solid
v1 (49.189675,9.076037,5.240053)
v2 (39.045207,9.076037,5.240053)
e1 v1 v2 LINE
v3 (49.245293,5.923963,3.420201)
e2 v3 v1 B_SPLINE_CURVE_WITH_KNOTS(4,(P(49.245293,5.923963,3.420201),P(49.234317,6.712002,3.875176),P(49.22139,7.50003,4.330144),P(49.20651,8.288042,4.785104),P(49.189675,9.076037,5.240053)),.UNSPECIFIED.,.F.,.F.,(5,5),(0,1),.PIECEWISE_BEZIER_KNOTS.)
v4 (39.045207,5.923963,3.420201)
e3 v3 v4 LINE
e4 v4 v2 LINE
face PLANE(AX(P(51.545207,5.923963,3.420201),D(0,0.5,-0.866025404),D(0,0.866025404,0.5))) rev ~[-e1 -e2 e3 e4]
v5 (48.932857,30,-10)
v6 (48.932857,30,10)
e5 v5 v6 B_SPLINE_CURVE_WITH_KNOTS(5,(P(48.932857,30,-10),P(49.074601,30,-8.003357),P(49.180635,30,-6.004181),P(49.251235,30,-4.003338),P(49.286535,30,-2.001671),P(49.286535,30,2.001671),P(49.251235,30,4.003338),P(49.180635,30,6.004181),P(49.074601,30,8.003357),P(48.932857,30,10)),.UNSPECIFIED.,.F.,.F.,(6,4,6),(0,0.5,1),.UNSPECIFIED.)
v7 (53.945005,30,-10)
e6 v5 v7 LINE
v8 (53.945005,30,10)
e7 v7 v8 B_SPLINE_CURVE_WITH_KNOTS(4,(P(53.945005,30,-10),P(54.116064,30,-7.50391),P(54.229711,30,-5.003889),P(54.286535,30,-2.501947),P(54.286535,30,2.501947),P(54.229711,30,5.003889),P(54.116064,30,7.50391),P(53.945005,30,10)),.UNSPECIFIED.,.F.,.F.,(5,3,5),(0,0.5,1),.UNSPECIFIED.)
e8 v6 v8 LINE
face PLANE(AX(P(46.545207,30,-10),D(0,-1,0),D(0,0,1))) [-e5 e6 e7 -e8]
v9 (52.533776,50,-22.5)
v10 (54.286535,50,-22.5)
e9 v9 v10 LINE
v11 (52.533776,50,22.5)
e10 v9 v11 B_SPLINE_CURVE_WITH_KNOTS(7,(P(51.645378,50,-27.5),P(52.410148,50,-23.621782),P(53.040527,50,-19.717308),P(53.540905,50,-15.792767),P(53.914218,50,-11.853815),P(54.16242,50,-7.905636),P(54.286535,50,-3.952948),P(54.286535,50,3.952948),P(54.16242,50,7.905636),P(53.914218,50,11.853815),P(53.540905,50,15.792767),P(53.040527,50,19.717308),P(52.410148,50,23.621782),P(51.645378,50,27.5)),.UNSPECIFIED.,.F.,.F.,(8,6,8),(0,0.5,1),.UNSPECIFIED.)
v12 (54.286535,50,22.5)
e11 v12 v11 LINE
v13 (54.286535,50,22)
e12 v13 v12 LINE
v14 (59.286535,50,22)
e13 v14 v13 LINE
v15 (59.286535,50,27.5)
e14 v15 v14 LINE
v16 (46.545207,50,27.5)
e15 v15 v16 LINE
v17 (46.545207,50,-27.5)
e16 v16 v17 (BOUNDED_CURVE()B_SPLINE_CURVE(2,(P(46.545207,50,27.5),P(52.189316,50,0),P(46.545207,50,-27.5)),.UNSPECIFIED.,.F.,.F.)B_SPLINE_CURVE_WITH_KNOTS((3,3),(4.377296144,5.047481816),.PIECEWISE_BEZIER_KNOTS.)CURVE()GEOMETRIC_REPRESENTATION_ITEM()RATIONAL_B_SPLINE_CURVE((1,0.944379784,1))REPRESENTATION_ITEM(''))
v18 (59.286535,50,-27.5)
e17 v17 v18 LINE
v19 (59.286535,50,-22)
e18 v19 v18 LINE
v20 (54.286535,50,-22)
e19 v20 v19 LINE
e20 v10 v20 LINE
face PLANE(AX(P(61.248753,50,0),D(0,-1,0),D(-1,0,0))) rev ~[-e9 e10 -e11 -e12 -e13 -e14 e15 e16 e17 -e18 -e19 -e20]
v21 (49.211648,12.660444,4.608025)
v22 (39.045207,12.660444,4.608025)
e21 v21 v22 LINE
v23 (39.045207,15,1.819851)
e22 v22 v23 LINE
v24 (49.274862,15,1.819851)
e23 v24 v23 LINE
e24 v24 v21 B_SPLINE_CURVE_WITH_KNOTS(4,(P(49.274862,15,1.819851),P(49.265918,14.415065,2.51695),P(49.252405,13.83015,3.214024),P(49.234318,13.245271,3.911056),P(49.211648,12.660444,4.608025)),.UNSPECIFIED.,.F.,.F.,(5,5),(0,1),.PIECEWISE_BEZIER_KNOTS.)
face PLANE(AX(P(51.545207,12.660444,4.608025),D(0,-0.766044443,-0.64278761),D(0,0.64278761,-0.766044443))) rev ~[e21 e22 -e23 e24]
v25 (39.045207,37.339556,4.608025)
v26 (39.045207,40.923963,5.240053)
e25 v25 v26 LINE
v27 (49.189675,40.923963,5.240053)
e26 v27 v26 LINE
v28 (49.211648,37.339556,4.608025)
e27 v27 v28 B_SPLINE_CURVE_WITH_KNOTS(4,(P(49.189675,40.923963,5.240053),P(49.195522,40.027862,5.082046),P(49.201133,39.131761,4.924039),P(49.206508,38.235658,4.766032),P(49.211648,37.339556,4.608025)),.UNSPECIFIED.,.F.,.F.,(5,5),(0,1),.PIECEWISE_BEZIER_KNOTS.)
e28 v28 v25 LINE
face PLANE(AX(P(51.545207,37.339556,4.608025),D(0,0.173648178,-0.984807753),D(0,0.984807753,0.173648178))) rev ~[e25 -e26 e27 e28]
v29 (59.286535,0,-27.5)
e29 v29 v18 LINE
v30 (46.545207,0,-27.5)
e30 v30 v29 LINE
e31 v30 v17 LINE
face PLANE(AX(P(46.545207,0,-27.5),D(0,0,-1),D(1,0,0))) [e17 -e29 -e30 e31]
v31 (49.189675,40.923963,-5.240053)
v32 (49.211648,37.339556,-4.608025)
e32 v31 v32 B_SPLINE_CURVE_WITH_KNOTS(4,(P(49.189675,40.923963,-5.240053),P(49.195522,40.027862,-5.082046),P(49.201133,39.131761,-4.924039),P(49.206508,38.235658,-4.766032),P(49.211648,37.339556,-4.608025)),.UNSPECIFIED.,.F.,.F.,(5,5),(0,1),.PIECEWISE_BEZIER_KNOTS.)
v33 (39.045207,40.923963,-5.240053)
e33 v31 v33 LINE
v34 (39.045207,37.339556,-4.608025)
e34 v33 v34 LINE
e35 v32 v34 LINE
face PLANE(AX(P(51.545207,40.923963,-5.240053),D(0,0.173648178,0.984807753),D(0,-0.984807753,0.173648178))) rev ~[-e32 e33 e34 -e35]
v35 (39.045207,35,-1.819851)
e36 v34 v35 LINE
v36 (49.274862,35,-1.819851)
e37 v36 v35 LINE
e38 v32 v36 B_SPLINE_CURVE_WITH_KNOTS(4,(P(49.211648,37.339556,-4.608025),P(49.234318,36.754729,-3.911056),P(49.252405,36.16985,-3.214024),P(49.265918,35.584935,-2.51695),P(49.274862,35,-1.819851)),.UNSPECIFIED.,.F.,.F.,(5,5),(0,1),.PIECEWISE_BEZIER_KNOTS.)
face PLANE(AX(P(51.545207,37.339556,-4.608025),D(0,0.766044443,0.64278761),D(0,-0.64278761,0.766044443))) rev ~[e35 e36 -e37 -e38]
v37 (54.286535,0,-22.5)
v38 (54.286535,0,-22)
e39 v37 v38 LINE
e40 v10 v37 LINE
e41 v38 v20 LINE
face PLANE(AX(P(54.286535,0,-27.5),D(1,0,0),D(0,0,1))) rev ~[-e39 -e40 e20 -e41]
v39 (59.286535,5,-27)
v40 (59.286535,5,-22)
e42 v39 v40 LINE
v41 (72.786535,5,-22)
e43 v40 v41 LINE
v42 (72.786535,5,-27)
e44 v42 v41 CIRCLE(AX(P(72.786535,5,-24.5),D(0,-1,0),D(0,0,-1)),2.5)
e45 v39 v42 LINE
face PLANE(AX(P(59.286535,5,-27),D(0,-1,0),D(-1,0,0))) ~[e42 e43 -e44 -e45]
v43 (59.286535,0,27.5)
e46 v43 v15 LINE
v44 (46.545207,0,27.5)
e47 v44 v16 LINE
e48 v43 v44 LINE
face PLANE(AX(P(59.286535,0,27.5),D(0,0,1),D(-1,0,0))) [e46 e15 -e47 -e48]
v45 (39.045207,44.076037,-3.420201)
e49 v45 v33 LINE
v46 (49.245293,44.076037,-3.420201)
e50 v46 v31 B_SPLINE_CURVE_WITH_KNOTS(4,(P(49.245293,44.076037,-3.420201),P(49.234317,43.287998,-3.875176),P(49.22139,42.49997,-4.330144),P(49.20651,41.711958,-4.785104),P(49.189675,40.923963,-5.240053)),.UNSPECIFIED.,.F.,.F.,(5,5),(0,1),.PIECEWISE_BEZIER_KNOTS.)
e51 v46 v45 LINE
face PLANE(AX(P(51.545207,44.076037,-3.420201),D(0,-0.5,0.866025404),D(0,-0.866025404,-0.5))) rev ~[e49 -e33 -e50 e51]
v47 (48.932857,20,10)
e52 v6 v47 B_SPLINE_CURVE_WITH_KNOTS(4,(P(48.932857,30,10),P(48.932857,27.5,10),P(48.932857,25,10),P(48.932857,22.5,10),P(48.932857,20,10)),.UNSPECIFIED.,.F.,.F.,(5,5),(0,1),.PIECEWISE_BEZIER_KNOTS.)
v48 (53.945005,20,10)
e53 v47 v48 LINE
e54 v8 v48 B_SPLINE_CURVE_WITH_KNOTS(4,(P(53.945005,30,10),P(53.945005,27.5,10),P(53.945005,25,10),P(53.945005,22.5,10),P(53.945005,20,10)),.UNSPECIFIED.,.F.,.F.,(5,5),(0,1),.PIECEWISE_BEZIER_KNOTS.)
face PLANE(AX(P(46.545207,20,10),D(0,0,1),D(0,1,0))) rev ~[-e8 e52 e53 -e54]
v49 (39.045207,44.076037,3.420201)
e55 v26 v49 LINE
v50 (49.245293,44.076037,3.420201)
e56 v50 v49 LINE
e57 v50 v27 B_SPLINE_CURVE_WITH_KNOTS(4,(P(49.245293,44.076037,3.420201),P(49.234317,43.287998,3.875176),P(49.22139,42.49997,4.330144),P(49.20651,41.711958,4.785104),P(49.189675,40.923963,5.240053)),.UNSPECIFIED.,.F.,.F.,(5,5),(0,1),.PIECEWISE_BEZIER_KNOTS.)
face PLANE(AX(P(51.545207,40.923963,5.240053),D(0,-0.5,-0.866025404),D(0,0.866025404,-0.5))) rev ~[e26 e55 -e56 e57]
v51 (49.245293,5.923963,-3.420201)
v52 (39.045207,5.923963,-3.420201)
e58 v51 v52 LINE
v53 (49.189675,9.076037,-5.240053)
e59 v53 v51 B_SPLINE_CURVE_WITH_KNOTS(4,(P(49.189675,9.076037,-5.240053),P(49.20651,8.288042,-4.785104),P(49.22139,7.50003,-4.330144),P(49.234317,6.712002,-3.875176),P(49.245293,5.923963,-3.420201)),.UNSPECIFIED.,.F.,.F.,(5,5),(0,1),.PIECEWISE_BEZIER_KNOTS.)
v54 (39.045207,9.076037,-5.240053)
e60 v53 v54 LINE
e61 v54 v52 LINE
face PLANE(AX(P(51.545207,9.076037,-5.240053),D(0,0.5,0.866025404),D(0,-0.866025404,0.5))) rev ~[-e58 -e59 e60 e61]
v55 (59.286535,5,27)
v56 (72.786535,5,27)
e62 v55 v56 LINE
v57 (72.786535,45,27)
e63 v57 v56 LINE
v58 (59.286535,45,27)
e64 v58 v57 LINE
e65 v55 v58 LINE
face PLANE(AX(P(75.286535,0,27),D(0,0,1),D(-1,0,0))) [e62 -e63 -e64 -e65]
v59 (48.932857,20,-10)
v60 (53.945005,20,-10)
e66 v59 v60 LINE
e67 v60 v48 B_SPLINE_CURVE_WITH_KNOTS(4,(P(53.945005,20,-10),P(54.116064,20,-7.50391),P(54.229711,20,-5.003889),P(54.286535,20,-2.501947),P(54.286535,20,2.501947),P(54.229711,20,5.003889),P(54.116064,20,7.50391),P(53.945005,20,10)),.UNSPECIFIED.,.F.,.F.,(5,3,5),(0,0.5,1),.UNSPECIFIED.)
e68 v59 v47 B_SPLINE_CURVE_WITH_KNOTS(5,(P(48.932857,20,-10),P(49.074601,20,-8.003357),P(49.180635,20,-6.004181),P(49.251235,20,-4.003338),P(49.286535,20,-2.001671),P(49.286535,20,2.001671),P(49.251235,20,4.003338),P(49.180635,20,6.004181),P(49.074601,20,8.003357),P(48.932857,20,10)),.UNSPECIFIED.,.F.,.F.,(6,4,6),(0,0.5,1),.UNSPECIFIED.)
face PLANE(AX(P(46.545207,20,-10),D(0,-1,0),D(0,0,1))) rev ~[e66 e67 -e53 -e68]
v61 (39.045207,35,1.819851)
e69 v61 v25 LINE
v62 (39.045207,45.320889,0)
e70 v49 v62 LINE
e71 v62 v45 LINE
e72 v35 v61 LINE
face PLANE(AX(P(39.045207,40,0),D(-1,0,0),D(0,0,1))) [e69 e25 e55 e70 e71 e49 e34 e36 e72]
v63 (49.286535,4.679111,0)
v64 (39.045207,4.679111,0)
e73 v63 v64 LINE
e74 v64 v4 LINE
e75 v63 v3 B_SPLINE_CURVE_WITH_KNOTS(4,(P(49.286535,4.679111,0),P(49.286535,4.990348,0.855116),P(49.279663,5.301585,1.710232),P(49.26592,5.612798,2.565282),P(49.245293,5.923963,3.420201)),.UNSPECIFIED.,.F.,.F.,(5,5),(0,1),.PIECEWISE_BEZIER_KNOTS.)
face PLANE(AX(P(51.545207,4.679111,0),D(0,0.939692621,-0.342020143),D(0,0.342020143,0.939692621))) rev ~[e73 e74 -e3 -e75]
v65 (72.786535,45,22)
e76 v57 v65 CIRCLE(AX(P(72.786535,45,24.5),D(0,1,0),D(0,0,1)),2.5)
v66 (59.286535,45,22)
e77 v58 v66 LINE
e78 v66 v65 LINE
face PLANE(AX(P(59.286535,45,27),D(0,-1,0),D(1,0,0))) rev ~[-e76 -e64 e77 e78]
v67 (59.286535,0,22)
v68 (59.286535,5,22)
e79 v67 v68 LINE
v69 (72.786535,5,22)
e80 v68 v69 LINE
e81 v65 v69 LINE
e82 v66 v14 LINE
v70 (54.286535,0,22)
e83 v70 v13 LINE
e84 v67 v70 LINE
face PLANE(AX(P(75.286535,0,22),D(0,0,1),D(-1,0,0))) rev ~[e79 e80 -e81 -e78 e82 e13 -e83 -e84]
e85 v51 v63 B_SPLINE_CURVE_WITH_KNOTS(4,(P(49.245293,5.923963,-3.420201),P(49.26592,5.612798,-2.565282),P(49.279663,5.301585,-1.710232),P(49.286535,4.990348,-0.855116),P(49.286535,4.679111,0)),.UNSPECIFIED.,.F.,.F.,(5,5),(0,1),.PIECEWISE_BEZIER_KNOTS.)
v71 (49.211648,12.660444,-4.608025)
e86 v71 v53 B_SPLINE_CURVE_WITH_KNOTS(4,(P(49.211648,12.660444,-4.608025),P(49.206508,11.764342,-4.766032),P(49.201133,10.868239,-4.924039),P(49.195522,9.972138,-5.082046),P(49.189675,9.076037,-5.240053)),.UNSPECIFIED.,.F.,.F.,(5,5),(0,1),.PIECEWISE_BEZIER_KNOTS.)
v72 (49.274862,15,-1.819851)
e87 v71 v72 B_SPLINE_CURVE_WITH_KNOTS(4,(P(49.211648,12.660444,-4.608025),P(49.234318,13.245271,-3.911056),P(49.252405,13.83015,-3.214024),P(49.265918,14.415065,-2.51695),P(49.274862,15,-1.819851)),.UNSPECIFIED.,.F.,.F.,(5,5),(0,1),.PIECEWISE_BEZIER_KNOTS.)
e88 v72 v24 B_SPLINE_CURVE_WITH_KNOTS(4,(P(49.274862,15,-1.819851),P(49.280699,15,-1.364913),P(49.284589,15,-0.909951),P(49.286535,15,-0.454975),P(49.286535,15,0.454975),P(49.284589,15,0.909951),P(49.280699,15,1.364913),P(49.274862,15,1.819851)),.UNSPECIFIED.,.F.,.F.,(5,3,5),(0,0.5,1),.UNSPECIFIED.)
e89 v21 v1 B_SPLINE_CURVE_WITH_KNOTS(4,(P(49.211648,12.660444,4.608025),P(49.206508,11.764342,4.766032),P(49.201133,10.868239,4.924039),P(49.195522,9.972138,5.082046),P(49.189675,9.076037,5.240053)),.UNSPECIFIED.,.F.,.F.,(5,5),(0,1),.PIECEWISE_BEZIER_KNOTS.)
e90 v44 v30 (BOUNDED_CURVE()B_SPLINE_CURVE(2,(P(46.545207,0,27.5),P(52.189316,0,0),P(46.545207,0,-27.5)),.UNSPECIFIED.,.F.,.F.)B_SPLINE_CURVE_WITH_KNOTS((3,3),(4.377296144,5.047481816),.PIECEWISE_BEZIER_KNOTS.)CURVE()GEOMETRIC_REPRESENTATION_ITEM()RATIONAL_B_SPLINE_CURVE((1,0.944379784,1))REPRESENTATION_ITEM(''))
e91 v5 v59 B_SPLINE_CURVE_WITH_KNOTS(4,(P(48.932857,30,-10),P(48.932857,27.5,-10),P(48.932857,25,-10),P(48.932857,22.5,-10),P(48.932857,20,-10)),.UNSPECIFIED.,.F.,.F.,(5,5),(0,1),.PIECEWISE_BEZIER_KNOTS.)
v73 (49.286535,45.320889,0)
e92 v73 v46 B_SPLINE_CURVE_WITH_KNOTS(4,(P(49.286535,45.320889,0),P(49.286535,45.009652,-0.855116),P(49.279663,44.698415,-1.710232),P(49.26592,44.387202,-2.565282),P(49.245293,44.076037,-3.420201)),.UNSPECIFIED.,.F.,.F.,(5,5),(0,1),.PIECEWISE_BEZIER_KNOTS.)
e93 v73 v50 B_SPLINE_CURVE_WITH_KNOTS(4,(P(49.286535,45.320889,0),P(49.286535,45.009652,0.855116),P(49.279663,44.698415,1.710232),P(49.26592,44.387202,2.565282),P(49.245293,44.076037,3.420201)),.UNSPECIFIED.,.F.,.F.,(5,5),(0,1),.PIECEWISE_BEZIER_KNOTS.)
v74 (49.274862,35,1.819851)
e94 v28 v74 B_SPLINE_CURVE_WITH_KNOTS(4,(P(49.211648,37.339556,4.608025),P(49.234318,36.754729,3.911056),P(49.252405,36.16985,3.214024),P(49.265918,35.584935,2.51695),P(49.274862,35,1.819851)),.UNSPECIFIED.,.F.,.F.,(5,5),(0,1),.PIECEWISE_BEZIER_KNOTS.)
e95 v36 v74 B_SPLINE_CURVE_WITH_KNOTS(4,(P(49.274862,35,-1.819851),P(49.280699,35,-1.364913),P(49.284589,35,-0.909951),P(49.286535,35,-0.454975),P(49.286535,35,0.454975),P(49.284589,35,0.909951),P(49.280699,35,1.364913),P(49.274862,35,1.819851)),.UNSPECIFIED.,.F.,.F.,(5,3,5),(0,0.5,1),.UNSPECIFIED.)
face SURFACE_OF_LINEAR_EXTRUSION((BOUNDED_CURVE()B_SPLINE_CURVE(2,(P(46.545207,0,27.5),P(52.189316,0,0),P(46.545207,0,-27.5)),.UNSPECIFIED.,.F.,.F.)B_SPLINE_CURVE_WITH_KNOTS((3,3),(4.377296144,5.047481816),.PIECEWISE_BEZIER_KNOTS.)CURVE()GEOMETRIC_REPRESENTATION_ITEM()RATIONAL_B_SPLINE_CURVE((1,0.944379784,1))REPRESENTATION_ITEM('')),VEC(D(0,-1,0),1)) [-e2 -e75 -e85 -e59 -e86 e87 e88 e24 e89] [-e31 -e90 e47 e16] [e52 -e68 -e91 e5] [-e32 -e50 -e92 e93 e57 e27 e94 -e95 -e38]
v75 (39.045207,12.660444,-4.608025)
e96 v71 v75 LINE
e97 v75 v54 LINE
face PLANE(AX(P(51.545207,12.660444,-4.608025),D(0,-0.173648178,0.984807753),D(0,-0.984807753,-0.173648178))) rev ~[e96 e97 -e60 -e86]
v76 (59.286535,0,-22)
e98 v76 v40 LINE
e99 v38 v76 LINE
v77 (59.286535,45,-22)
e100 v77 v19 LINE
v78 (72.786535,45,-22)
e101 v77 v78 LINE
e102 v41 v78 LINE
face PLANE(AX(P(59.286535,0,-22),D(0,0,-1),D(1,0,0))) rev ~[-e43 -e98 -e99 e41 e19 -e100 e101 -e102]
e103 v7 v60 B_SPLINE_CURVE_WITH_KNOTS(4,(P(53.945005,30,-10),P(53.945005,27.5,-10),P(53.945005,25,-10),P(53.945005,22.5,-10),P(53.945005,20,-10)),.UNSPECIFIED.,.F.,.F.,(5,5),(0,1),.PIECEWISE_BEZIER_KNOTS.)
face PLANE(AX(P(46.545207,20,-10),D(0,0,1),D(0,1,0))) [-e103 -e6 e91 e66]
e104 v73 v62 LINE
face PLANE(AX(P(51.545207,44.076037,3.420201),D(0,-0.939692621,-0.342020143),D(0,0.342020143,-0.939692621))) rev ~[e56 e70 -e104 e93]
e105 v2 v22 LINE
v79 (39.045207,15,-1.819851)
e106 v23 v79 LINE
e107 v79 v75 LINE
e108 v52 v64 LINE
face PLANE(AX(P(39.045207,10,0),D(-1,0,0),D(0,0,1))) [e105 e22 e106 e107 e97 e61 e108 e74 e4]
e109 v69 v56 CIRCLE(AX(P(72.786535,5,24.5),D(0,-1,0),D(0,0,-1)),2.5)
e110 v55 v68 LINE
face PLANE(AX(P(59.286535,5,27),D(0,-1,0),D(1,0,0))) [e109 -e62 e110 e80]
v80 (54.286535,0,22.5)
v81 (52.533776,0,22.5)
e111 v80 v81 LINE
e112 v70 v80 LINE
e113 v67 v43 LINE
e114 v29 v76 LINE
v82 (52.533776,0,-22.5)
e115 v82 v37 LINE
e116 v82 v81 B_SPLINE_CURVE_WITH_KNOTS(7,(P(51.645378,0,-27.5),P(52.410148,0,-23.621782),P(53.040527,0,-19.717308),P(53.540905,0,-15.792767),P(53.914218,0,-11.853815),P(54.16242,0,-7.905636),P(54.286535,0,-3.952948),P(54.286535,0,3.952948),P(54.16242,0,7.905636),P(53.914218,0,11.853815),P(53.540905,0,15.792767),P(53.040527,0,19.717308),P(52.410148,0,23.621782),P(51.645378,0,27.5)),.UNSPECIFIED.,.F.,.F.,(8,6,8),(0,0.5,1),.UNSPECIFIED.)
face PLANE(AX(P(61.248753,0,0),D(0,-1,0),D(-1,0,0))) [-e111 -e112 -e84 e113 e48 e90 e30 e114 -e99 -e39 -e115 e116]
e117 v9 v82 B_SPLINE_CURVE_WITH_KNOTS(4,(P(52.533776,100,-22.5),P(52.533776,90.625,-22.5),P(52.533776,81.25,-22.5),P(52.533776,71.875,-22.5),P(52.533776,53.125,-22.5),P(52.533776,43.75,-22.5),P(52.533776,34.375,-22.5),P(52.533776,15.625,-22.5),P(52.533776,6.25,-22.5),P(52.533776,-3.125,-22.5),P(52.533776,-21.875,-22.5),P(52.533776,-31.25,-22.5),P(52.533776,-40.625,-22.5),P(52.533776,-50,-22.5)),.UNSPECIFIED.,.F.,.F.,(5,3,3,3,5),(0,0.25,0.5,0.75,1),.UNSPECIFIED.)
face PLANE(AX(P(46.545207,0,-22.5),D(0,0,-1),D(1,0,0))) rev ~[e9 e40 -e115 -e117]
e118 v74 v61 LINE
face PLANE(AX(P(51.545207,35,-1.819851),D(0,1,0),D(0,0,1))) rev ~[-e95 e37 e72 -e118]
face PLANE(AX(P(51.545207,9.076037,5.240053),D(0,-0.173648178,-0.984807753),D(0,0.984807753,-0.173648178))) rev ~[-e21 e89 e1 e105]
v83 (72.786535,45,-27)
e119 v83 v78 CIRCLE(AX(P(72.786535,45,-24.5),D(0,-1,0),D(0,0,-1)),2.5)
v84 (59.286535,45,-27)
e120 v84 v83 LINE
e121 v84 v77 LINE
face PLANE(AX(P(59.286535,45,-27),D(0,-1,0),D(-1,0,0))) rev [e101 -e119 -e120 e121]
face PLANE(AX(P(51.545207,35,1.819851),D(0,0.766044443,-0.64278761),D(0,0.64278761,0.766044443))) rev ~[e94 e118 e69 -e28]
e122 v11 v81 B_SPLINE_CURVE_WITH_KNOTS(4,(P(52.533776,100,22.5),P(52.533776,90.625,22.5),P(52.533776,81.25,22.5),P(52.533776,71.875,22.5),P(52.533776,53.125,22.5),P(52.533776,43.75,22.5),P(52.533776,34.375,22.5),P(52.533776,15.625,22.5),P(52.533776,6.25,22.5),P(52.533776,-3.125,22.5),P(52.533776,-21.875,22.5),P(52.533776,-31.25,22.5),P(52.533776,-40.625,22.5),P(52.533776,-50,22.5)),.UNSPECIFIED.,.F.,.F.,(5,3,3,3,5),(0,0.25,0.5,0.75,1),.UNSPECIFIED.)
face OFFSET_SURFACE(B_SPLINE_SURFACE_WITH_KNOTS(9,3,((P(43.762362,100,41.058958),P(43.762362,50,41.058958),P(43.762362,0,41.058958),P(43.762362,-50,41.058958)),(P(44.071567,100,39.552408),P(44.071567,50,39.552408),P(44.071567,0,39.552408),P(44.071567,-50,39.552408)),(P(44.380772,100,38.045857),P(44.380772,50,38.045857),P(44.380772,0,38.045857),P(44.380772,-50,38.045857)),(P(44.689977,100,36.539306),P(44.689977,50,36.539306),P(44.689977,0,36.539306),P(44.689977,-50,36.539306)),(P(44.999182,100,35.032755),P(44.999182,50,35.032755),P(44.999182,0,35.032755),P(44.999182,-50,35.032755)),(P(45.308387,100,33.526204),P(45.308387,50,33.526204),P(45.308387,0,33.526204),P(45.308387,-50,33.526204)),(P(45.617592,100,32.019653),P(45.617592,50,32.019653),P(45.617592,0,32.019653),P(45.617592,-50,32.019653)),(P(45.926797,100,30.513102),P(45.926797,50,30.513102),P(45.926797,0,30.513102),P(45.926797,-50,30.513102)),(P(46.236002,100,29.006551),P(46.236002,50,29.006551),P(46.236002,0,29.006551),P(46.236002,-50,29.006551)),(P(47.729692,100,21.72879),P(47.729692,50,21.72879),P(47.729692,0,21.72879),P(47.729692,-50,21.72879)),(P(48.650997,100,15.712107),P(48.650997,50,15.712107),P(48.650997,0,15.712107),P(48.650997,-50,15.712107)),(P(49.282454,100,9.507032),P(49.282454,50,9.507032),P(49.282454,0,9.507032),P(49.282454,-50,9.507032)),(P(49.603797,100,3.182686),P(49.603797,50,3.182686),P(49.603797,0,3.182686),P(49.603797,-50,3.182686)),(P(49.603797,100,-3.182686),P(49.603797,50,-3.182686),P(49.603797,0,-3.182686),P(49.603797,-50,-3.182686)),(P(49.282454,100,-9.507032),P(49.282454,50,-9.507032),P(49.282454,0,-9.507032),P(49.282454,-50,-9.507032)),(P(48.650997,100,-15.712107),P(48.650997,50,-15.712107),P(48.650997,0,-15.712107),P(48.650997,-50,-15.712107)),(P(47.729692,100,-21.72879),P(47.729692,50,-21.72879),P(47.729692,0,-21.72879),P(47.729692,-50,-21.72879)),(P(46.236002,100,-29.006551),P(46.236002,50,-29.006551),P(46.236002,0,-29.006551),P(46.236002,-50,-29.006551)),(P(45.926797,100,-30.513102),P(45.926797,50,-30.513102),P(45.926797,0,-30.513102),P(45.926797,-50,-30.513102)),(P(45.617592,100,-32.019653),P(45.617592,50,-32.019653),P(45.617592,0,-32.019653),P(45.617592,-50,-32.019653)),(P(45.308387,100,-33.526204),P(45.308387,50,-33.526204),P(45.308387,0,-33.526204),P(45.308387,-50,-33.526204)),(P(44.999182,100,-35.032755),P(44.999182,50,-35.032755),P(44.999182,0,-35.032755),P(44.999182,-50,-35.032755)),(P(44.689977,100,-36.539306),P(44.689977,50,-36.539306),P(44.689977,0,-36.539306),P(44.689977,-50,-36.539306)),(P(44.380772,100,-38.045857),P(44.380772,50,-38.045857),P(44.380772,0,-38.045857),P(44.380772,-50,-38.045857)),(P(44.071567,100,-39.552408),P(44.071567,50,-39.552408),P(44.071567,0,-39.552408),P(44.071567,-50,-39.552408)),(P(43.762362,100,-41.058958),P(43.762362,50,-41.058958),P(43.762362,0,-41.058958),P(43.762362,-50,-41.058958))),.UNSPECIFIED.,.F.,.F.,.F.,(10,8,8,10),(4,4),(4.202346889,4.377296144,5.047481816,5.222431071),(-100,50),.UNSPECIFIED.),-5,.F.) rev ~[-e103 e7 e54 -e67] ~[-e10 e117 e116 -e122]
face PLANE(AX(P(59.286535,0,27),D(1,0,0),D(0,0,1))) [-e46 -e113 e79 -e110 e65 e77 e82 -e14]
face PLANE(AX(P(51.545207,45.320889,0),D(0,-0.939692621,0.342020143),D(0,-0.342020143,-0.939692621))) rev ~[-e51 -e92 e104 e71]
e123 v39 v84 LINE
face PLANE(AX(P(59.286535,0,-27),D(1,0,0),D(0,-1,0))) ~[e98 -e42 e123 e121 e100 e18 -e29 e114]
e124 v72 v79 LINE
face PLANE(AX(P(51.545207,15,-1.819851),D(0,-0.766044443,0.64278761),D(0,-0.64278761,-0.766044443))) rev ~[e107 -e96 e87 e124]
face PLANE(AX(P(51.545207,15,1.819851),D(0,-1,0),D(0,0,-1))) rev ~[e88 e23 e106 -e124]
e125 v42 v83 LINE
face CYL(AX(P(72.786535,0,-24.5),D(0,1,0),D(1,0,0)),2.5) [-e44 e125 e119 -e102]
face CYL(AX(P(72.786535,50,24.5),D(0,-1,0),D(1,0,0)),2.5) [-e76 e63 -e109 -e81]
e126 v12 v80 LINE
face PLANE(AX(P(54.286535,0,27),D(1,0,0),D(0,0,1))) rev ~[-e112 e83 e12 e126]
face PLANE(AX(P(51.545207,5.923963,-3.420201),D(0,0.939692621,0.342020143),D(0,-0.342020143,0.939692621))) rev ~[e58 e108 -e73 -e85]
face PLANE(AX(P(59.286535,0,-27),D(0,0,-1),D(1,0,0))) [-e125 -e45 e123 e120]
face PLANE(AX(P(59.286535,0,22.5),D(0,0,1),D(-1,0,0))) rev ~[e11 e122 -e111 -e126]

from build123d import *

# Parameters (mm, degrees)
BOSS_EXTRUDE1_DEPTH      = 50
SHELL1_T                 = -5
BOSS_EXTRUDE2_DEPTH      = 7.5
BOSS_EXTRUDE2_DEPTH_BACK = 5
SKETCH4_W                = 20
SKETCH4_H                = 10
CUT_EXTRUDE1_DEPTH       = 10
FILLET1_RADIUS           = 2.5
FILLET1_LENGTH           = 50
FILLET2_RADIUS           = 2.5
FILLET2_LENGTH           = 50
SKETCH7_W                = 16
SKETCH7_H                = 5
CUT_EXTRUDE3_DEPTH       = 10


with BuildPart() as part:
    # Sketch2 → Boss-Extrude1 (new body)
    with BuildSketch(Plane(origin=(0, 0, 0), x_dir=(1, 0, 0), z_dir=(0, 1, 0))):
        with BuildLine():
            Line((46.545206992, 27.5), (49.2865347, 27.5))
            Line((49.2865347, 27.5), (59.2865347, 27.5))
            Line((59.2865347, 27.5), (59.2865347, 27))
            Line((59.2865347, 27), (75.2865347, 27))
            Line((75.2865347, 27), (75.2865347, -27))
            Line((75.2865347, -27), (59.2865347, -27))
            Line((59.2865347, -27), (59.2865347, -27.5))
            Line((59.2865347, -27.5), (49.2865347, -27.5))
            Line((49.2865347, -27.5), (46.545206992, -27.5))
            add(Edge.make_bspline(
                [(46.545206992, -27.5), (52.189315716, 0), (46.545206992, 27.5)],
                knots=[4.377296144, 4.377296144, 4.377296144, 5.047481816, 5.047481816, 5.047481816], degree=2, weights=[1, 0.944379784, 1]))
        make_face()
    extrude(amount=BOSS_EXTRUDE1_DEPTH)

    # Shell1
    shell1_openings = [part.faces().sort_by_distance(p)[0] for p in [
        (61.762813671, 50, 0),
        (61.762813671, 0, 0),
        (75.2865347, 25, 0),
    ]]
    offset(amount=SHELL1_T, openings=shell1_openings, kind=Kind.INTERSECTION)

    # Sketch3 → Boss-Extrude2 (add, two sides: drawn at the far end of the back side and taken through both)
    with BuildSketch(Plane.ZY.offset(-46.545206992).offset(-BOSS_EXTRUDE2_DEPTH_BACK)):
        Polygon((-5.240052605, 40.923962655), (-4.608024926, 37.339555569), (-1.819851171, 35), (1.819851171, 35), (4.608024926, 37.339555569), (5.240052605, 40.923962655), (3.420201433, 44.076037345), (0, 45.320888862), (-3.420201433, 44.076037345), align=None)
        Polygon((0, 4.679111138), (3.420201433, 5.923962655), (5.240052605, 9.076037345), (4.608024926, 12.660444431), (1.819851171, 15), (-1.819851171, 15), (-4.608024926, 12.660444431), (-5.240052605, 9.076037345), (-3.420201433, 5.923962655), align=None)
    extrude(amount=BOSS_EXTRUDE2_DEPTH + BOSS_EXTRUDE2_DEPTH_BACK)

    # Sketch4 → Cut-Extrude1 (cut)
    with BuildSketch(Plane.ZY.offset(-46.545206992)):
        with Locations((0, 25)):
            Rectangle(SKETCH4_W, SKETCH4_H)
    extrude(amount=-CUT_EXTRUDE1_DEPTH, mode=Mode.SUBTRACT)

    # Fillet1: full round fillet: the end face becomes a half cylinder, R = half its width
    fillet1_face = Plane((75.2865347, 25, -24.5), x_dir=(0, 1, 0), z_dir=(1, 0, 0))  # on the end face: x along it, z out of the body
    fillet1_slab = fillet1_face.offset(-FILLET1_RADIUS / 2) * Box(FILLET1_LENGTH, 2 * FILLET1_RADIUS, FILLET1_RADIUS, mode=Mode.PRIVATE)  # the body's end, R deep
    fillet1_round = Plane((72.7865347, 25, -24.5), x_dir=(1, 0, 0), z_dir=(0, 1, 0)) * Cylinder(FILLET1_RADIUS, FILLET1_LENGTH, mode=Mode.PRIVATE)  # its axis R under the face
    add(fillet1_slab - fillet1_round, mode=Mode.SUBTRACT)

    # Fillet2: full round fillet: the end face becomes a half cylinder, R = half its width
    fillet2_face = Plane((75.2865347, 25, 24.5), x_dir=(0, -1, 0), z_dir=(1, 0, 0))  # on the end face: x along it, z out of the body
    fillet2_slab = fillet2_face.offset(-FILLET2_RADIUS / 2) * Box(FILLET2_LENGTH, 2 * FILLET2_RADIUS, FILLET2_RADIUS, mode=Mode.PRIVATE)  # the body's end, R deep
    fillet2_round = Plane((72.7865347, 25, 24.5), x_dir=(1, 0, 0), z_dir=(0, -1, 0)) * Cylinder(FILLET2_RADIUS, FILLET2_LENGTH, mode=Mode.PRIVATE)  # its axis R under the face
    add(fillet2_slab - fillet2_round, mode=Mode.SUBTRACT)

    # Sketch7 → Cut-Extrude3 (cut)
    with BuildSketch(Plane.XY.offset(27)):
        with Locations((67.2865347, 47.5)):
            Rectangle(SKETCH7_W, SKETCH7_H)
        with Locations((67.2865347, 2.5)):
            Rectangle(SKETCH7_W, SKETCH7_H)
    cut_extrude3 = extrude(amount=-CUT_EXTRUDE3_DEPTH, mode=Mode.SUBTRACT)

    # Mirror2: Cut-Extrude3 across plane
    add(cut_extrude3.mirror(Plane.XY), mode=Mode.SUBTRACT)


solid = part.part
